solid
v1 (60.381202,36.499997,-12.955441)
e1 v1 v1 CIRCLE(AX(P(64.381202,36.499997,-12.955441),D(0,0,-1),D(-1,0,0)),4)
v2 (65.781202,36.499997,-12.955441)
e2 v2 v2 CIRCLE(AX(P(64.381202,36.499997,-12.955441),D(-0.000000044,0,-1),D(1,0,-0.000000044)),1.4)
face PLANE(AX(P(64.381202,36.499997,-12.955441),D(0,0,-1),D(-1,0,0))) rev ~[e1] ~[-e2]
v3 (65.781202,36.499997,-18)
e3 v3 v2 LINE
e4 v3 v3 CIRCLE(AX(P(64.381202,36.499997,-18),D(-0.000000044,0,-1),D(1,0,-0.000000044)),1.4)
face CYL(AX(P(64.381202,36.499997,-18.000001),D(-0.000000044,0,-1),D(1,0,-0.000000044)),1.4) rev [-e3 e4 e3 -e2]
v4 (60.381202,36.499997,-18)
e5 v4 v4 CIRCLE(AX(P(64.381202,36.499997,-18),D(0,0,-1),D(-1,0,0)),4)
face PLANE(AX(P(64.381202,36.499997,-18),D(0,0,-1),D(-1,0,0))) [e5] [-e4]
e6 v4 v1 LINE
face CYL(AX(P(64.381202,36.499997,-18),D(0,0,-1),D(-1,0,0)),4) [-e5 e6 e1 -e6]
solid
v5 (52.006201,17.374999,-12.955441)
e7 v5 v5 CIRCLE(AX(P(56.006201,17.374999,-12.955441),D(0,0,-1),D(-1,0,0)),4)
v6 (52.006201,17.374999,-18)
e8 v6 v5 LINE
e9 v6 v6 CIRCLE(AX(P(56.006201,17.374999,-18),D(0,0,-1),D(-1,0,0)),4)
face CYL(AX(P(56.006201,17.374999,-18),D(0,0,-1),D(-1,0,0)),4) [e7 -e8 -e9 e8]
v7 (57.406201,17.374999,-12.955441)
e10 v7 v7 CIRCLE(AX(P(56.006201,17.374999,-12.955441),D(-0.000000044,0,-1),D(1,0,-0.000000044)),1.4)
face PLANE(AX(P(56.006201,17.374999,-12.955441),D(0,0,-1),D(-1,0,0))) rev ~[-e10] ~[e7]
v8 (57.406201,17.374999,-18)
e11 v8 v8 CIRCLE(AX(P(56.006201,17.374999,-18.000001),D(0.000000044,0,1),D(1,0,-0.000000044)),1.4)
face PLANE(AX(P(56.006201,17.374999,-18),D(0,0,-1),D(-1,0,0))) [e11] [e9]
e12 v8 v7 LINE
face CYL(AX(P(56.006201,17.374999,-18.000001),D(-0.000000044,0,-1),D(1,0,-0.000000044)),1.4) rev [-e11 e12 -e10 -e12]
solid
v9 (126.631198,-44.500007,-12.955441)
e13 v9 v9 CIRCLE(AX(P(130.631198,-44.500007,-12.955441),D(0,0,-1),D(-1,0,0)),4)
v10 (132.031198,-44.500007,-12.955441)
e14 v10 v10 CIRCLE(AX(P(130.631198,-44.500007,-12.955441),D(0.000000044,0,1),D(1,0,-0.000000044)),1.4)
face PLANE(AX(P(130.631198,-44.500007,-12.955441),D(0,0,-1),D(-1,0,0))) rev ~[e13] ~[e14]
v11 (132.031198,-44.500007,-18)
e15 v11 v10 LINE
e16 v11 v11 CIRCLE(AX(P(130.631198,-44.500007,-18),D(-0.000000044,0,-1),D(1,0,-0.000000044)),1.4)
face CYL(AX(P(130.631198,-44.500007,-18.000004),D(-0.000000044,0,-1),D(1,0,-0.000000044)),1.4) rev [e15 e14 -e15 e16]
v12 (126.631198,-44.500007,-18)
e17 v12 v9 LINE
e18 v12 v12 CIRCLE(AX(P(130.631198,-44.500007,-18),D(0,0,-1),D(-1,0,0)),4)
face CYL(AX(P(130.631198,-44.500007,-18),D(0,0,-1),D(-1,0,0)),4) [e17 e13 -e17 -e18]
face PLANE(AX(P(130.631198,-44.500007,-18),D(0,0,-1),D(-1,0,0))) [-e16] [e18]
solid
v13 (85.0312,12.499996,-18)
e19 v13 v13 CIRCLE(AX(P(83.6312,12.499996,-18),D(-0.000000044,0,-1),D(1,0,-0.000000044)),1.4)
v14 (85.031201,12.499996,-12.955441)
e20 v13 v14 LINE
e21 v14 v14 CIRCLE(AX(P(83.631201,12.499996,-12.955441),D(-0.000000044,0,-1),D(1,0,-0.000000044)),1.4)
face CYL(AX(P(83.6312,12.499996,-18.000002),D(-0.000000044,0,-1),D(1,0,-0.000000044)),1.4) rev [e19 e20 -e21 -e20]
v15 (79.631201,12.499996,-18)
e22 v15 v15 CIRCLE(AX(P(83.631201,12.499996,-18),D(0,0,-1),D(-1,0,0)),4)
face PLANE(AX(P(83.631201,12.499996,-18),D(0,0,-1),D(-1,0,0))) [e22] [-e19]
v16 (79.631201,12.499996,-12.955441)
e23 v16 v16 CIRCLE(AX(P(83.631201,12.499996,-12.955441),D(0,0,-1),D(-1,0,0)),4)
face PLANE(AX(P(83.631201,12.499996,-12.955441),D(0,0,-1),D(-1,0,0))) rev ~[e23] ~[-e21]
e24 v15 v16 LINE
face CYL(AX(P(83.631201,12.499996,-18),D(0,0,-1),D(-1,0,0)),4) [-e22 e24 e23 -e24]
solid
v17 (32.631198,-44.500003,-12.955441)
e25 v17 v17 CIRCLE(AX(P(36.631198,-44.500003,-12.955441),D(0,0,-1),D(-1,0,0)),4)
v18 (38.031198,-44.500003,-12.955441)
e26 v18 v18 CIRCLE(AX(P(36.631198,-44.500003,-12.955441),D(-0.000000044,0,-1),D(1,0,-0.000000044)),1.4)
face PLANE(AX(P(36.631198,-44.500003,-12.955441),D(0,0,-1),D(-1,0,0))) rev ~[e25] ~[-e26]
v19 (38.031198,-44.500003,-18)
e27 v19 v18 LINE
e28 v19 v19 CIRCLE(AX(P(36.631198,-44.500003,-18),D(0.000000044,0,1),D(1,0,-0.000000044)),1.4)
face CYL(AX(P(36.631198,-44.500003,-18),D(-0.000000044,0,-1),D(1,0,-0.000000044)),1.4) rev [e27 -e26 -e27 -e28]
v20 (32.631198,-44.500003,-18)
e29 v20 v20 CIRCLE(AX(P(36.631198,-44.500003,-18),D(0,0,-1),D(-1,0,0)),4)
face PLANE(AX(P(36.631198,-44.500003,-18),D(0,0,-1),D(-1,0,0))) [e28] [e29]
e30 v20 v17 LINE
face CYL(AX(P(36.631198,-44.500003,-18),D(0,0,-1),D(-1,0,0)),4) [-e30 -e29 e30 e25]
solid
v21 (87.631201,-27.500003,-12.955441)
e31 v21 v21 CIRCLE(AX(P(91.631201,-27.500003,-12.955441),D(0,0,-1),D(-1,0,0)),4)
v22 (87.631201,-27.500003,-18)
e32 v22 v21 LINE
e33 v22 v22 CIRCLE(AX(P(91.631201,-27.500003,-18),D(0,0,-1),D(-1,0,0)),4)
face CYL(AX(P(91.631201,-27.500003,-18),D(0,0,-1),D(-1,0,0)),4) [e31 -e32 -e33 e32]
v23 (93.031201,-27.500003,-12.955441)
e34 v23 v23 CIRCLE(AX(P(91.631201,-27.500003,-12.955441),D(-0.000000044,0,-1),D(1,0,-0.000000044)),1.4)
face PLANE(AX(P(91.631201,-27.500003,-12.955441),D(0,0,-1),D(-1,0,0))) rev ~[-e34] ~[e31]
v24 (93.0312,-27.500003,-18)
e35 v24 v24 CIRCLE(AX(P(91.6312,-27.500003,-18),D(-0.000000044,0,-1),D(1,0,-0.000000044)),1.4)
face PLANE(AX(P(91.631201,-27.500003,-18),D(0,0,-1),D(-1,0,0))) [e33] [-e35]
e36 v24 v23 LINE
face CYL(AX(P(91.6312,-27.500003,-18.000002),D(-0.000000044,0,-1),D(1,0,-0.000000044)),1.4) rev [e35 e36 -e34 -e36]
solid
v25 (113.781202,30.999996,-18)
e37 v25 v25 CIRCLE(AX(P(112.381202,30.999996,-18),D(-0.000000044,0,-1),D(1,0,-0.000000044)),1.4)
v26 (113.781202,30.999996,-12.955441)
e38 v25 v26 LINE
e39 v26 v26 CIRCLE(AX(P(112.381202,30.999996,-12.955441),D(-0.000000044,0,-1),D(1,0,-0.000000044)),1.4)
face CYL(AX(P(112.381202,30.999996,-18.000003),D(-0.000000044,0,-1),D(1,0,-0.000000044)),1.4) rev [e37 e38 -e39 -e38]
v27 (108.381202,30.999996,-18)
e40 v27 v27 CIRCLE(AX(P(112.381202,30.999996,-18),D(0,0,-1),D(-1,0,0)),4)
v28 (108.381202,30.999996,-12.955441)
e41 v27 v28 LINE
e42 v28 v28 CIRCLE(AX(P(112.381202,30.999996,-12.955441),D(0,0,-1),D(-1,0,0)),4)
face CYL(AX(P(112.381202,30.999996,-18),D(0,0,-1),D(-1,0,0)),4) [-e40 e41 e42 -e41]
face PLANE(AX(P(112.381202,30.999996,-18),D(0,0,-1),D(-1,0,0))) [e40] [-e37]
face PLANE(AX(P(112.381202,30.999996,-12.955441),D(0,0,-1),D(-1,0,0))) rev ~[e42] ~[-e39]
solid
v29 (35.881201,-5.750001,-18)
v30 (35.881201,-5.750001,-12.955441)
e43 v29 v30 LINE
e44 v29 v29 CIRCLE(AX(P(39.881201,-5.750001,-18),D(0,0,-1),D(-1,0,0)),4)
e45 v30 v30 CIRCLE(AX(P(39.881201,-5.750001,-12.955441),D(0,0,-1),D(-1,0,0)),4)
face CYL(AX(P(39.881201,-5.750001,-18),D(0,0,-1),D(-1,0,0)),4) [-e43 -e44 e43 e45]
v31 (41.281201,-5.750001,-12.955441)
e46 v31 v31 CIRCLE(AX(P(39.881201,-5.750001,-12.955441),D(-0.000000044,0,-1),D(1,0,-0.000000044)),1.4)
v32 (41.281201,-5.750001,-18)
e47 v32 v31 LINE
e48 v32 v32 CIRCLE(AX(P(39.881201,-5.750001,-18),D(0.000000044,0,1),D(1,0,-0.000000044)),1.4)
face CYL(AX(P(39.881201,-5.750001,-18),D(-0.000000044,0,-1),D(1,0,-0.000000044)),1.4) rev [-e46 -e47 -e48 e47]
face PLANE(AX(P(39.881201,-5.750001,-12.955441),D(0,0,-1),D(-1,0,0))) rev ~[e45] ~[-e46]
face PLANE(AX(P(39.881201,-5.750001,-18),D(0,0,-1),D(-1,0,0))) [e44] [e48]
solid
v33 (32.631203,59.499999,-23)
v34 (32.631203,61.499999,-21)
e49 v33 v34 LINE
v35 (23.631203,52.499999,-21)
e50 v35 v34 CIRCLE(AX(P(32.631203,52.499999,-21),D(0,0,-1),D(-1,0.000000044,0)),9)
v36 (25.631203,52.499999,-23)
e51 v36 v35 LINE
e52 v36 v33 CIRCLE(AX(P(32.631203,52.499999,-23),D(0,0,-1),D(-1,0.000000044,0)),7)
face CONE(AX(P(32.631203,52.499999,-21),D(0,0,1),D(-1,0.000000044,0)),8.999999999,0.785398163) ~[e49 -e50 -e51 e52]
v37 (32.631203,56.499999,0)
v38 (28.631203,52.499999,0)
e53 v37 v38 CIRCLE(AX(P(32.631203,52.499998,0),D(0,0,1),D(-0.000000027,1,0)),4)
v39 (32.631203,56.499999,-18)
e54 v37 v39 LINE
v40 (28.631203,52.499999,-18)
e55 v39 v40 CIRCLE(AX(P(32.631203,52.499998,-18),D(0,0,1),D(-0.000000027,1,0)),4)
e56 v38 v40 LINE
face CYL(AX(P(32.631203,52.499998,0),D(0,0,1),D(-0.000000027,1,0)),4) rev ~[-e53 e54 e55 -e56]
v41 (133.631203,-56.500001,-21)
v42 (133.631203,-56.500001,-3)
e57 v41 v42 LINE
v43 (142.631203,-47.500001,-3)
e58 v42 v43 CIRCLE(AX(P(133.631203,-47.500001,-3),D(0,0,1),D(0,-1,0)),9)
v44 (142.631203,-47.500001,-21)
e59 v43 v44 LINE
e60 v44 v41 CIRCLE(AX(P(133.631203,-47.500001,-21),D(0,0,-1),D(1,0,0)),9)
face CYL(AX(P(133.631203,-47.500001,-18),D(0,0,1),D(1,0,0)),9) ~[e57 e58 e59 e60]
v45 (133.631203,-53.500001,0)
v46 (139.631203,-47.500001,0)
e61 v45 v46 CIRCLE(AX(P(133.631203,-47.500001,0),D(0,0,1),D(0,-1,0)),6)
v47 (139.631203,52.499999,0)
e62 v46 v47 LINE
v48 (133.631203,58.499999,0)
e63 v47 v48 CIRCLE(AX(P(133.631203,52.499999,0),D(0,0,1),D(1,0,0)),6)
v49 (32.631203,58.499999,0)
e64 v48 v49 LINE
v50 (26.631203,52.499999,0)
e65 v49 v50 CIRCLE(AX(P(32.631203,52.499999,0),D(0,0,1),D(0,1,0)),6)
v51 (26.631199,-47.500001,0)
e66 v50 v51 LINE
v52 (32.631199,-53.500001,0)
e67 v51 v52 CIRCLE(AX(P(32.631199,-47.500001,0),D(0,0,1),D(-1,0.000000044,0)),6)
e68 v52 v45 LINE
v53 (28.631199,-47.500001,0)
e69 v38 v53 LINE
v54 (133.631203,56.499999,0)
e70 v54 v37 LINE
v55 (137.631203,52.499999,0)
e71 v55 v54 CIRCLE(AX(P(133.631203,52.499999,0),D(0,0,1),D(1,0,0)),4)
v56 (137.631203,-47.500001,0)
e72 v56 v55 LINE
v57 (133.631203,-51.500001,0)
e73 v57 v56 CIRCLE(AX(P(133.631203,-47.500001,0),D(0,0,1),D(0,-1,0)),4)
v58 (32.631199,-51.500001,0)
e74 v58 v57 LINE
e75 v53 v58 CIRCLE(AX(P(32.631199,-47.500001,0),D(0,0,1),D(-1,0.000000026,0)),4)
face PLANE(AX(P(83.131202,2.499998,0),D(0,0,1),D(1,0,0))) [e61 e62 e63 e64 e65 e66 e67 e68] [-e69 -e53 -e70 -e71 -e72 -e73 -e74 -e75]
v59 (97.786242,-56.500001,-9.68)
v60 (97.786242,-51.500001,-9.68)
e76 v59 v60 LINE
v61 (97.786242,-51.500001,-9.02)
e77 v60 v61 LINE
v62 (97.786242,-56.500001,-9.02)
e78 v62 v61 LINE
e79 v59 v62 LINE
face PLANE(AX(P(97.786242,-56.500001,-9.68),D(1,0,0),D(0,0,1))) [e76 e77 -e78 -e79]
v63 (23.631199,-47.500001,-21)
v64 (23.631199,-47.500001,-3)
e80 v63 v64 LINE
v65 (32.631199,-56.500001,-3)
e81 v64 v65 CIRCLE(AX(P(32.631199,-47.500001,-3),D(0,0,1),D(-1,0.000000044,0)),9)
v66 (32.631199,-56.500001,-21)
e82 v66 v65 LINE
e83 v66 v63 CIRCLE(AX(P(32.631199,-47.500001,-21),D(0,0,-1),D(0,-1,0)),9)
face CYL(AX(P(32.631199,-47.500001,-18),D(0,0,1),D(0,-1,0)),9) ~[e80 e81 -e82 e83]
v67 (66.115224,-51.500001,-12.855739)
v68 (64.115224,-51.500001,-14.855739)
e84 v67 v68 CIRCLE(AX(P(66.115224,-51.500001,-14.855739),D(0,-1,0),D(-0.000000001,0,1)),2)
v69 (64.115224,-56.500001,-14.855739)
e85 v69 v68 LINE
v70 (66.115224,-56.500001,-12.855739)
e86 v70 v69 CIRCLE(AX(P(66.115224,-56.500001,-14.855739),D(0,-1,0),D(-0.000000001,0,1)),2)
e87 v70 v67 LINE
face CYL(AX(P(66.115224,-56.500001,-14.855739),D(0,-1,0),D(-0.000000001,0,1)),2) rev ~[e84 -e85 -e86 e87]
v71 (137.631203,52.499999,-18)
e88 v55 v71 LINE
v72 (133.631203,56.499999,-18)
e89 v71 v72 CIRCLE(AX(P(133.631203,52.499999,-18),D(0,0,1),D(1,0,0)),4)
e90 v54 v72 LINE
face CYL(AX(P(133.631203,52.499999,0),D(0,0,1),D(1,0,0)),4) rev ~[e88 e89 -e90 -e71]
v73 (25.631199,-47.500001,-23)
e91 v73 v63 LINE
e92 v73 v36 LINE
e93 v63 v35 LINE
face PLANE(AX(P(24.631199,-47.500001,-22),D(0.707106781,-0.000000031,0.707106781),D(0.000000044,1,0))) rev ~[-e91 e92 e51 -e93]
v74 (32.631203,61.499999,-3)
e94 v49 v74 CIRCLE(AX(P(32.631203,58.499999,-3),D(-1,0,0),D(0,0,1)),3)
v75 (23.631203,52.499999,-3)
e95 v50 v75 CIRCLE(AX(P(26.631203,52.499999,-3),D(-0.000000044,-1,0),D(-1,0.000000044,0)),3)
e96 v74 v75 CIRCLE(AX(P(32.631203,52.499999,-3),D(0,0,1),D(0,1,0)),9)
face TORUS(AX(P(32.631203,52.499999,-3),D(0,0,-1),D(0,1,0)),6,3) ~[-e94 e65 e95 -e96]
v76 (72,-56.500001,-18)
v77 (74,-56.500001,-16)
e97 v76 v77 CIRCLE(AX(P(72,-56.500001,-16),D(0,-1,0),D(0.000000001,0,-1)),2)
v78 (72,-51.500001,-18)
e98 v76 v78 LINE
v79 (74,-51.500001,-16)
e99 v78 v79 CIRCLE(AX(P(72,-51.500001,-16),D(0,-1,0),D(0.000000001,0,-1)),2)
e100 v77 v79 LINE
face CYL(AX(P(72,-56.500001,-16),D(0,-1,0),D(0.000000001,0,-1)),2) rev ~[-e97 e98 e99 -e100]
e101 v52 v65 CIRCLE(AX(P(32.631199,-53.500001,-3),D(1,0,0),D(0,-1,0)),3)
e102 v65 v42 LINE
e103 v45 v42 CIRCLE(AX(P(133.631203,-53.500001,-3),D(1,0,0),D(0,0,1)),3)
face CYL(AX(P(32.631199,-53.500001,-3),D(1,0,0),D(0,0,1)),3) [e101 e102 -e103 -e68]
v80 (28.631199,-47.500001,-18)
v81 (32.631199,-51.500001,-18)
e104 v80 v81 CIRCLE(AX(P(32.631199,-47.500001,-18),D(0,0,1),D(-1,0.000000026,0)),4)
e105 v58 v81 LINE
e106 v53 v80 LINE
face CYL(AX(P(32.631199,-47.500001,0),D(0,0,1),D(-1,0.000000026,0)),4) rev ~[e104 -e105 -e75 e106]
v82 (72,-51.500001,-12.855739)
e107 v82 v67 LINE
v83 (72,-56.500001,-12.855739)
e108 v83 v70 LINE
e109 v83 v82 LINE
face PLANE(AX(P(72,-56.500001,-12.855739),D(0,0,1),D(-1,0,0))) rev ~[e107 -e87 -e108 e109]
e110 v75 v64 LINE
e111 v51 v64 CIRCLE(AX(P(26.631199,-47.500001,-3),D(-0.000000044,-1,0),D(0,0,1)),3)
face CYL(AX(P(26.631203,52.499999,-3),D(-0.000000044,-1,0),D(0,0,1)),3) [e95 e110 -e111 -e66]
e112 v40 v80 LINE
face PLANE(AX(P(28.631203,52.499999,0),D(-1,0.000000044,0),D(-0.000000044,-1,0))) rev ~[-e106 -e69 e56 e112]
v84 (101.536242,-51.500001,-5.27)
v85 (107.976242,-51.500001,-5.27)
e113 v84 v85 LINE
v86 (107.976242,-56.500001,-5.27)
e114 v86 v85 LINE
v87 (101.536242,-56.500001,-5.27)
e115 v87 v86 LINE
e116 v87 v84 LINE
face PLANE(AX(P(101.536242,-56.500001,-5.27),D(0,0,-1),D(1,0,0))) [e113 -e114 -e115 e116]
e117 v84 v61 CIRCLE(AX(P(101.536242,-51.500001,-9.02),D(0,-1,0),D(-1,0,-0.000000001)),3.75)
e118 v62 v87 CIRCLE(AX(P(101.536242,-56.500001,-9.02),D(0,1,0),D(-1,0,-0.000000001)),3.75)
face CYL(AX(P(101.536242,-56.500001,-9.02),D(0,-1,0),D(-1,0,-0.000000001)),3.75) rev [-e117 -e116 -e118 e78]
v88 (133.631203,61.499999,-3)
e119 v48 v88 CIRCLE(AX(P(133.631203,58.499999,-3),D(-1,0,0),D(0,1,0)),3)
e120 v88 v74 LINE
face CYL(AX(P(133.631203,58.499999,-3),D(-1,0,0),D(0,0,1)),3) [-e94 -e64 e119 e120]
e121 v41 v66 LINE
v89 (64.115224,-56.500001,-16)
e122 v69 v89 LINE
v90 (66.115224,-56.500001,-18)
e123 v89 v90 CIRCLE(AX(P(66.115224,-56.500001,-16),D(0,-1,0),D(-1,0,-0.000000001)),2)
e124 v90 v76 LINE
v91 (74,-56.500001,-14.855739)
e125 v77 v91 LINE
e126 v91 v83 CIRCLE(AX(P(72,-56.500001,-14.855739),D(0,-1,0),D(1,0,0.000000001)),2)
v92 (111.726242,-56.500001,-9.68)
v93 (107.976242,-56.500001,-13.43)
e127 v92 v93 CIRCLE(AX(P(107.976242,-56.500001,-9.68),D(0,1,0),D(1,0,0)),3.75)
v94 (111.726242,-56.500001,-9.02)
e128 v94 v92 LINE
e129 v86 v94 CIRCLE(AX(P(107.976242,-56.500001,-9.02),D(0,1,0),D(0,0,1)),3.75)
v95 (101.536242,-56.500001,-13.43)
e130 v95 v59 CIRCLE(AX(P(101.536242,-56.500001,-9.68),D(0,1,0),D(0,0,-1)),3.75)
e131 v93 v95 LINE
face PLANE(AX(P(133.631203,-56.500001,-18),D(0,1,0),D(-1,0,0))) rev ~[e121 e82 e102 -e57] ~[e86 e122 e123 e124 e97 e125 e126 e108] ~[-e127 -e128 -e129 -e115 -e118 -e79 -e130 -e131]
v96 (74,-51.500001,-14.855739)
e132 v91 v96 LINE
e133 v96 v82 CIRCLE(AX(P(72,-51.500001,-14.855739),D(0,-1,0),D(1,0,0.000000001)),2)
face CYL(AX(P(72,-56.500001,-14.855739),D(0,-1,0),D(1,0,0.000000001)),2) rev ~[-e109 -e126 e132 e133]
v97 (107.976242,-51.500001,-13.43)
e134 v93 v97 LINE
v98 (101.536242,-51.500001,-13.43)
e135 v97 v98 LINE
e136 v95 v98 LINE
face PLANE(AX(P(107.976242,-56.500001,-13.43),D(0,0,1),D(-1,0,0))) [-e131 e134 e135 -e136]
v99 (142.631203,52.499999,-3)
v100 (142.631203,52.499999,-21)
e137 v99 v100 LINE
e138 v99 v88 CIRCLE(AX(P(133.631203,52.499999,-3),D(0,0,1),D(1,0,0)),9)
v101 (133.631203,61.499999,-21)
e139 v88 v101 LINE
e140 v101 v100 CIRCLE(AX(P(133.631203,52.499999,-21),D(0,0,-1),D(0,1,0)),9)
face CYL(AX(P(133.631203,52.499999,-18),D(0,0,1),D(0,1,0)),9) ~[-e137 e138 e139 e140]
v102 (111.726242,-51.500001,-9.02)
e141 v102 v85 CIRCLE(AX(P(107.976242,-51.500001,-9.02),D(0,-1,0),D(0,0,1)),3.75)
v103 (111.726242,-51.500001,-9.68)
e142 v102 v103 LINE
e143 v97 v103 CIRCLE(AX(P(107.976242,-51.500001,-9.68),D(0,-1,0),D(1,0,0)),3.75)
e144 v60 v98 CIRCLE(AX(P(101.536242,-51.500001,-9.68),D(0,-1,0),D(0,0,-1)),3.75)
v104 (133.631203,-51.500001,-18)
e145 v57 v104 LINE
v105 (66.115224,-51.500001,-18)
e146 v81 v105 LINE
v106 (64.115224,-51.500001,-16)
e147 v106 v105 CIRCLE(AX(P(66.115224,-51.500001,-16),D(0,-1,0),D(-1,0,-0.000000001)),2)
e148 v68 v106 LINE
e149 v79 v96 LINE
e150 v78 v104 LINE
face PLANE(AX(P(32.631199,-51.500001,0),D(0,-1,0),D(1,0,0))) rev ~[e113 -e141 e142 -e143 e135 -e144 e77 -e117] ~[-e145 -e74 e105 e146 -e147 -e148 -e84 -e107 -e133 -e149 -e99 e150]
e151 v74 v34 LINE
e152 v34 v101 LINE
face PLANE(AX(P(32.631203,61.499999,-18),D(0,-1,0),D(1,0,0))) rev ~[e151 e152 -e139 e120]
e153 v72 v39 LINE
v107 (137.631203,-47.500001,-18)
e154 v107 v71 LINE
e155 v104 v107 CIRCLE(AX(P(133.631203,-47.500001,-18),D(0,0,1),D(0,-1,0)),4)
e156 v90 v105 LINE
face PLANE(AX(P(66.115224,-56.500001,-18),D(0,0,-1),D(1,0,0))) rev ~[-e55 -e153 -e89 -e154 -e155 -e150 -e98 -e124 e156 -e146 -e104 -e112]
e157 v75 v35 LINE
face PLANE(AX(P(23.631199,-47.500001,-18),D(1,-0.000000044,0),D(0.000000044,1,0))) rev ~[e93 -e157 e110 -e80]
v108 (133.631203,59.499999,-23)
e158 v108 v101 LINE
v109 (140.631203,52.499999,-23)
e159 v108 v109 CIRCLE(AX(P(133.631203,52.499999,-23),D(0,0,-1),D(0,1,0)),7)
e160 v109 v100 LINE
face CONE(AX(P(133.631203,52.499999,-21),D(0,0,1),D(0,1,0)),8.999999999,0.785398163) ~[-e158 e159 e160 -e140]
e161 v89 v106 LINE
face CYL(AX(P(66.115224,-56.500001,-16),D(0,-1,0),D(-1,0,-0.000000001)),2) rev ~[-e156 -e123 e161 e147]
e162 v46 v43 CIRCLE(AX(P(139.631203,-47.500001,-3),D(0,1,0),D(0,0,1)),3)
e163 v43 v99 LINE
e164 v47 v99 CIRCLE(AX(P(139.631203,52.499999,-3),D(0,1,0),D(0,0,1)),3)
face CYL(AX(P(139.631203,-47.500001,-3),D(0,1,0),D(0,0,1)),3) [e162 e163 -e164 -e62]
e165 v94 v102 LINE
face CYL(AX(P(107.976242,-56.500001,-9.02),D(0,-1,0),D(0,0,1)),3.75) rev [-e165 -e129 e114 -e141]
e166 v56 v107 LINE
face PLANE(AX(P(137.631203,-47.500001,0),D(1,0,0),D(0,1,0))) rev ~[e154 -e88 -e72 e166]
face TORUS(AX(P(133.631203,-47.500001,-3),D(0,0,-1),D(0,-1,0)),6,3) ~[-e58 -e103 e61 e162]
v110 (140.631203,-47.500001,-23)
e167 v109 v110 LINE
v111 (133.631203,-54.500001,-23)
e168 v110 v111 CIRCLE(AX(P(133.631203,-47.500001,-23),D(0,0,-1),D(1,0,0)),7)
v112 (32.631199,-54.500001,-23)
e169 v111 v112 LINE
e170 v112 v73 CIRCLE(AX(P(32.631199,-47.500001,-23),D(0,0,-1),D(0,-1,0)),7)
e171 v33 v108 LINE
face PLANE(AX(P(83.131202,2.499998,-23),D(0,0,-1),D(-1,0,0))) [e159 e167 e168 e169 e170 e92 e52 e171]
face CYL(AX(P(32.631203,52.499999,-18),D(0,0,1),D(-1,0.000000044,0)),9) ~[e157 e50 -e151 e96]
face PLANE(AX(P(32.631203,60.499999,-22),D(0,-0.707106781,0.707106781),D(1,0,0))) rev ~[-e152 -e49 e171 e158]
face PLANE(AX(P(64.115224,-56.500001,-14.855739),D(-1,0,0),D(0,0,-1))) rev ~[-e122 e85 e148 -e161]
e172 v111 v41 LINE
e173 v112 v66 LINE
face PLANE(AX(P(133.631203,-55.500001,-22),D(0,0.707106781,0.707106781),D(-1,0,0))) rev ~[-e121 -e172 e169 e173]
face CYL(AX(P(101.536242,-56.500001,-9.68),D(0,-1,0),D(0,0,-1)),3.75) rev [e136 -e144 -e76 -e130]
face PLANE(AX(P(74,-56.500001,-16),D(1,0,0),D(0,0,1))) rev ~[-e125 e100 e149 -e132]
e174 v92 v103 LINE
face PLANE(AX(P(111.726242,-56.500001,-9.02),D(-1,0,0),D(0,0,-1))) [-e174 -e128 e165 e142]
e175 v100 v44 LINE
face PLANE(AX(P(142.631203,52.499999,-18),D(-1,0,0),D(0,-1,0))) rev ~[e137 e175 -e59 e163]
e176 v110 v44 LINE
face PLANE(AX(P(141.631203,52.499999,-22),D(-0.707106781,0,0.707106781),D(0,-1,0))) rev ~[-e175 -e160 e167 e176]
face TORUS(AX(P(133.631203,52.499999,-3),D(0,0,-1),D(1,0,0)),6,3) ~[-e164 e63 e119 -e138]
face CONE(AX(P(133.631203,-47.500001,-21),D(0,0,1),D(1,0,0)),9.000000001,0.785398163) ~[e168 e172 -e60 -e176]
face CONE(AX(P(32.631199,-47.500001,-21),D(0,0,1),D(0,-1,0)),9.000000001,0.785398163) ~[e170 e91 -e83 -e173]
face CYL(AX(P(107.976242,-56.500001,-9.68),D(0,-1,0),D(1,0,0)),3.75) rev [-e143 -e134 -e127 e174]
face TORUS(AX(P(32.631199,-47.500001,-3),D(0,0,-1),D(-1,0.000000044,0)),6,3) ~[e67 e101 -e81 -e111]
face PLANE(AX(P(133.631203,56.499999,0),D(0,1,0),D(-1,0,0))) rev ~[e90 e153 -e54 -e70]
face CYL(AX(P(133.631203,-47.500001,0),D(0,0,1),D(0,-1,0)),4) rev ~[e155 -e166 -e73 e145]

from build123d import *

# Parameters (mm, degrees)
BOSS_EXTRUDE1_DEPTH   = 18
SKETCH2_R             = 4
BOSS_EXTRUDE2_DEPTH   = 5.044559182
BOSS_EXTRUDE2_2_DEPTH = 5.044559182
BOSS_EXTRUDE2_3_DEPTH = 5.044559182
BOSS_EXTRUDE2_4_DEPTH = 5.044559182
BOSS_EXTRUDE2_5_DEPTH = 5.044559182
BOSS_EXTRUDE2_6_DEPTH = 5.044559182
BOSS_EXTRUDE2_7_DEPTH = 5.044559182
BOSS_EXTRUDE2_8_DEPTH = 5.044559182
BOSS_EXTRUDE4_DEPTH   = 5
CHAMFER1_SIZE         = 2
CUT_EXTRUDE4_DEPTH    = 10
CUT_EXTRUDE5_START    = -5.044562
SKETCH9_R             = 1.4
CUT_EXTRUDE5_DEPTH    = 5.044563
FILLET1_R             = 3


with BuildPart() as part:
    # Sketch1 → Boss-Extrude1 (new body)
    with BuildSketch(Plane.XY):
        with BuildLine():
            Line((23.631203293, 52.499999142), (23.631198922, -47.500000858))
            ThreePointArc((23.631198922, -47.500000858), (26.267237752, -53.863962143), (32.631198922, -56.500001252))
            Line((32.631198922, -56.500001252), (133.631203293, -56.500001252))
            ThreePointArc((133.631203293, -56.500001252), (139.995164324, -53.863962282), (142.631203293, -47.500001252))
            Line((142.631203293, -47.500001252), (142.631203293, 52.499998748))
            ThreePointArc((142.631203293, 52.499998748), (139.995164324, 58.863959779), (133.631203293, 61.499998748))
            Line((133.631203293, 61.499998748), (32.631203293, 61.499998748))
            ThreePointArc((32.631203293, 61.499998748), (26.267242401, 58.863959918), (23.631203293, 52.499999142))
        make_face()
        with BuildLine():
            Line((28.631203141, 52.499998748), (28.63119877, -47.500001252))
            ThreePointArc((28.63119877, -47.500001252), (29.80277169, -50.328428483), (32.631198922, -51.500001252))
            Line((32.631198922, -51.500001252), (133.631203293, -51.500001252))
            ThreePointArc((133.631203293, -51.500001252), (136.459630418, -50.328428376), (137.631203293, -47.500001252))
            Line((137.631203293, -47.500001252), (137.631203293, 52.499998748))
            ThreePointArc((137.631203293, 52.499998748), (136.459630418, 55.328425873), (133.631203293, 56.499998748))
            Line((133.631203293, 56.499998748), (32.631203293, 56.499998748))
            ThreePointArc((32.631203293, 56.499998748), (29.802776168, 55.328425873), (28.631203141, 52.499998748))
        make_face(mode=Mode.SUBTRACT)
    extrude(amount=-BOSS_EXTRUDE1_DEPTH)

    # Sketch6 → Boss-Extrude4 (add)
    with BuildSketch(Plane(origin=(0, 0, -18), x_dir=(-1, 0, 0), z_dir=(0, 0, -1))):
        with BuildLine():
            Line((-23.631198922, -47.500000858), (-23.631203293, 52.499999142))
            ThreePointArc((-23.631203293, 52.499999142), (-26.267242401, 58.863959918), (-32.631203293, 61.499998748))
            Line((-32.631203293, 61.499998748), (-133.631203293, 61.499998748))
            ThreePointArc((-133.631203293, 61.499998748), (-139.995164324, 58.863959779), (-142.631203293, 52.499998748))
            Line((-142.631203293, 52.499998748), (-142.631203293, -47.500001252))
            ThreePointArc((-142.631203293, -47.500001252), (-139.995164324, -53.863962282), (-133.631203293, -56.500001252))
            Line((-133.631203293, -56.500001252), (-32.631198922, -56.500001252))
            ThreePointArc((-32.631198922, -56.500001252), (-26.267237752, -53.863962143), (-23.631198922, -47.500000858))
        make_face()
    extrude(amount=BOSS_EXTRUDE4_DEPTH)

    # Chamfer1
    chamfer1_edges = [part.edges().sort_by_distance(p)[0] for p in [
        (26.267237752, -53.863962143, -23),
        (23.631201107, 2.499999142, -23),
        (26.267242401, 58.863959918, -23),
        (83.131203293, 61.499998748, -23),
        (139.995164324, 58.863959779, -23),
        (142.631203293, 2.499998748, -23),
        (139.995164324, -53.863962282, -23),
        (83.131201107, -56.500001252, -23),
    ]]
    chamfer(chamfer1_edges, length=CHAMFER1_SIZE)

    # Sketch8 → Cut-Extrude4 (cut)
    # profile 1 of 3: a face of its own
    with BuildSketch(Plane(origin=(0, -56.500001252, 0), x_dir=(1, 0, 0), z_dir=(0, 1, 0))):
        with BuildLine():
            ThreePointArc((97.786242074, 9.020000419), (98.884591644, 6.368349989), (101.536242074, 5.270000419))
            Line((101.536242074, 5.270000419), (107.976242074, 5.270000419))
            ThreePointArc((107.976242074, 5.270000419), (110.627892503, 6.368349989), (111.726242074, 9.020000419))
            Line((111.726242074, 9.020000419), (111.726242074, 9.680000419))
            ThreePointArc((111.726242074, 9.680000419), (110.627892503, 12.331650848), (107.976242074, 13.430000419))
            Line((107.976242074, 13.430000419), (104.477997177, 13.430000419))
            Line((104.477997177, 13.430000419), (101.536242074, 13.430000419))
            ThreePointArc((101.536242074, 13.430000419), (98.884591644, 12.331650848), (97.786242074, 9.680000419))
            Line((97.786242074, 9.680000419), (97.786242074, 9.020000419))
        make_face()
        with BuildLine():
            Line((101.536242074, 7.770000419), (107.976242074, 7.770000419))
            ThreePointArc((107.976242074, 7.770000419), (108.86012555, 8.136116942), (109.226242074, 9.020000419))
            Line((109.226242074, 9.020000419), (109.226242074, 9.680000419))
            ThreePointArc((109.226242074, 9.680000419), (108.86012555, 10.563883895), (107.976242074, 10.930000419))
            Line((107.976242074, 10.930000419), (104.487997177, 10.930000419))
            Line((104.487997177, 10.930000419), (104.487997177, 10.730000419))
            Line((104.487997177, 10.730000419), (107.976242074, 10.730000419))
            ThreePointArc((107.976242074, 10.730000419), (108.718704194, 10.422462539), (109.026242074, 9.680000419))
            Line((109.026242074, 9.680000419), (109.026242074, 9.020000419))
            ThreePointArc((109.026242074, 9.020000419), (108.718704194, 8.277538299), (107.976242074, 7.970000419))
            Line((107.976242074, 7.970000419), (101.536242074, 7.970000419))
            ThreePointArc((101.536242074, 7.970000419), (100.793779953, 8.277538299), (100.486242074, 9.020000419))
            Line((100.486242074, 9.020000419), (100.486242074, 9.680000419))
            ThreePointArc((100.486242074, 9.680000419), (100.793779953, 10.422462539), (101.536242074, 10.730000419))
            Line((101.536242074, 10.730000419), (104.467997177, 10.730000419))
            Line((104.467997177, 10.730000419), (104.467997177, 10.930000419))
            Line((104.467997177, 10.930000419), (101.536242074, 10.930000419))
            ThreePointArc((101.536242074, 10.930000419), (100.652358597, 10.563883895), (100.286242074, 9.680000419))
            Line((100.286242074, 9.680000419), (100.286242074, 9.020000419))
            ThreePointArc((100.286242074, 9.020000419), (100.652358597, 8.136116942), (101.536242074, 7.770000419))
        make_face(mode=Mode.SUBTRACT)
    # profile 2 of 3: a face of its own
    with BuildSketch(Plane(origin=(0, -56.500001252, 0), x_dir=(1, 0, 0), z_dir=(0, 1, 0))):
        with BuildLine():
            ThreePointArc((107.976242074, 7.770000419), (108.86012555, 8.136116942), (109.226242074, 9.020000419))
            Line((109.226242074, 9.020000419), (109.226242074, 9.680000419))
            ThreePointArc((109.226242074, 9.680000419), (108.86012555, 10.563883895), (107.976242074, 10.930000419))
            Line((107.976242074, 10.930000419), (104.487997177, 10.930000419))
            Line((104.487997177, 10.930000419), (104.487997177, 10.730000419))
            Line((104.487997177, 10.730000419), (107.976242074, 10.730000419))
            ThreePointArc((107.976242074, 10.730000419), (108.718704194, 10.422462539), (109.026242074, 9.680000419))
            Line((109.026242074, 9.680000419), (109.026242074, 9.020000419))
            ThreePointArc((109.026242074, 9.020000419), (108.718704194, 8.277538299), (107.976242074, 7.970000419))
            Line((107.976242074, 7.970000419), (101.536242074, 7.970000419))
            ThreePointArc((101.536242074, 7.970000419), (100.793779953, 8.277538299), (100.486242074, 9.020000419))
            Line((100.486242074, 9.020000419), (100.486242074, 9.680000419))
            ThreePointArc((100.486242074, 9.680000419), (100.793779953, 10.422462539), (101.536242074, 10.730000419))
            Line((101.536242074, 10.730000419), (104.467997177, 10.730000419))
            Line((104.467997177, 10.730000419), (104.467997177, 10.930000419))
            Line((104.467997177, 10.930000419), (101.536242074, 10.930000419))
            ThreePointArc((101.536242074, 10.930000419), (100.652358597, 10.563883895), (100.286242074, 9.680000419))
            Line((100.286242074, 9.680000419), (100.286242074, 9.020000419))
            ThreePointArc((100.286242074, 9.020000419), (100.652358597, 8.136116942), (101.536242074, 7.770000419))
            Line((101.536242074, 7.770000419), (107.976242074, 7.770000419))
        make_face()
    # profile 3 of 3: a face of its own
    with BuildSketch(Plane(origin=(0, -56.500001252, 0), x_dir=(1, 0, 0), z_dir=(0, 1, 0))):
        with BuildLine():
            Line((72, 12.855738996), (66.115223507, 12.855738996))
            ThreePointArc((66.115223507, 12.855738996), (64.701009945, 13.441525434), (64.115223507, 14.855738996))
            Line((64.115223507, 14.855738996), (64.115223507, 16))
            ThreePointArc((64.115223507, 16), (64.701009945, 17.414213562), (66.115223507, 18))
            Line((66.115223507, 18), (72, 18))
            ThreePointArc((72, 18), (73.414213562, 17.414213562), (74, 16))
            Line((74, 16), (74, 14.855738996))
            ThreePointArc((74, 14.855738996), (73.414213562, 13.441525434), (72, 12.855738996))
        make_face()
    extrude(amount=CUT_EXTRUDE4_DEPTH, mode=Mode.SUBTRACT)

    # Fillet1
    fillet1_edges = [part.edges().sort_by_distance(p)[0] for p in [
        (142.631203293, 2.499998748, 0),
        (139.995164324, -53.863962282, 0),
        (83.131201107, -56.500001252, 0),
        (26.267237752, -53.863962143, 0),
        (23.631201107, 2.499999142, 0),
        (26.267242401, 58.863959918, 0),
        (83.131203293, 61.499998748, 0),
        (139.995164324, 58.863959779, 0),
    ]]
    fillet(fillet1_edges, radius=FILLET1_R)


with BuildPart() as body_2:
    # Sketch2 → Boss-Extrude2 (new body)
    with BuildSketch(Plane(origin=(0, 0, -18), x_dir=(-1, 0, 0), z_dir=(0, 0, -1))):
        with Locations((-112.381202333, 30.999995568)):
            Circle(SKETCH2_R)
    extrude(amount=-BOSS_EXTRUDE2_DEPTH)


with BuildPart() as body_3:
    # Sketch2 → Boss-Extrude2 2 (new body)
    with BuildSketch(Plane(origin=(0, 0, -18), x_dir=(-1, 0, 0), z_dir=(0, 0, -1))):
        with Locations((-64.381202053, 36.499996826)):
            Circle(SKETCH2_R)
    extrude(amount=-BOSS_EXTRUDE2_2_DEPTH)


with BuildPart() as body_4:
    # Sketch2 → Boss-Extrude2 3 (new body)
    with BuildSketch(Plane(origin=(0, 0, -18), x_dir=(-1, 0, 0), z_dir=(0, 0, -1))):
        with Locations((-56.006201457, 17.374998612)):
            Circle(SKETCH2_R)
    extrude(amount=-BOSS_EXTRUDE2_3_DEPTH)


with BuildPart() as body_5:
    # Sketch2 → Boss-Extrude2 4 (new body)
    with BuildSketch(Plane(origin=(0, 0, -18), x_dir=(-1, 0, 0), z_dir=(0, 0, -1))):
        with Locations((-83.631200604, 12.499995724)):
            Circle(SKETCH2_R)
    extrude(amount=-BOSS_EXTRUDE2_4_DEPTH)


with BuildPart() as body_6:
    # Sketch2 → Boss-Extrude2 5 (new body)
    with BuildSketch(Plane(origin=(0, 0, -18), x_dir=(-1, 0, 0), z_dir=(0, 0, -1))):
        with Locations((-39.881200947, -5.750001423)):
            Circle(SKETCH2_R)
    extrude(amount=-BOSS_EXTRUDE2_5_DEPTH)


with BuildPart() as body_7:
    # Sketch2 → Boss-Extrude2 6 (new body)
    with BuildSketch(Plane(origin=(0, 0, -18), x_dir=(-1, 0, 0), z_dir=(0, 0, -1))):
        with Locations((-36.631198133, -44.500002521)):
            Circle(SKETCH2_R)
    extrude(amount=-BOSS_EXTRUDE2_6_DEPTH)


with BuildPart() as body_8:
    # Sketch2 → Boss-Extrude2 7 (new body)
    with BuildSketch(Plane(origin=(0, 0, -18), x_dir=(-1, 0, 0), z_dir=(0, 0, -1))):
        with Locations((-130.631198093, -44.50000663)):
            Circle(SKETCH2_R)
    extrude(amount=-BOSS_EXTRUDE2_7_DEPTH)


with BuildPart() as body_9:
    # Sketch2 → Boss-Extrude2 8 (new body)
    with BuildSketch(Plane(origin=(0, 0, -18), x_dir=(-1, 0, 0), z_dir=(0, 0, -1))):
        with Locations((-91.631200636, -27.500003365)):
            Circle(SKETCH2_R)
    extrude(amount=-BOSS_EXTRUDE2_8_DEPTH)


with BuildPart() as cut_extrude5_tool:
    # Sketch9 → Cut-Extrude5 (new body)
    with BuildSketch(Plane(origin=(-5.66e-07, 0, -12.95543608), x_dir=(0.999999999999999, 0, -4.371138828673993e-08), z_dir=(4.371138828673993e-08, -1.389432378091647e-15, 0.9999999999999991)).offset(CUT_EXTRUDE5_START)):
        with Locations((130.631198659, -44.50000663)):
            Circle(SKETCH9_R)
        with Locations((36.631198699, -44.500002521)):
            Circle(SKETCH9_R)
        with Locations((91.631201202, -27.500003365)):
            Circle(SKETCH9_R)
        with Locations((83.631201171, 12.499995724)):
            Circle(SKETCH9_R)
        with Locations((56.006202024, 17.374998612)):
            Circle(SKETCH9_R)
        with Locations((39.881201513, -5.750001423)):
            Circle(SKETCH9_R)
        with Locations((112.381202899, 30.999995568)):
            Circle(SKETCH9_R)
        with Locations((64.38120262, 36.499996826)):
            Circle(SKETCH9_R)
    extrude(amount=CUT_EXTRUDE5_DEPTH)


with BuildPart() as body_2_1:
    add(body_2.part)

    # Cut-Extrude5: cut by cut_extrude5_tool
    add(cut_extrude5_tool.part, mode=Mode.SUBTRACT)


with BuildPart() as body_3_1:
    add(body_3.part)

    # Cut-Extrude5: cut by cut_extrude5_tool
    add(cut_extrude5_tool.part, mode=Mode.SUBTRACT)


with BuildPart() as body_4_1:
    add(body_4.part)

    # Cut-Extrude5: cut by cut_extrude5_tool
    add(cut_extrude5_tool.part, mode=Mode.SUBTRACT)


with BuildPart() as body_5_1:
    add(body_5.part)

    # Cut-Extrude5: cut by cut_extrude5_tool
    add(cut_extrude5_tool.part, mode=Mode.SUBTRACT)


with BuildPart() as body_6_1:
    add(body_6.part)

    # Cut-Extrude5: cut by cut_extrude5_tool
    add(cut_extrude5_tool.part, mode=Mode.SUBTRACT)


with BuildPart() as body_7_1:
    add(body_7.part)

    # Cut-Extrude5: cut by cut_extrude5_tool
    add(cut_extrude5_tool.part, mode=Mode.SUBTRACT)


with BuildPart() as body_8_1:
    add(body_8.part)

    # Cut-Extrude5: cut by cut_extrude5_tool
    add(cut_extrude5_tool.part, mode=Mode.SUBTRACT)


with BuildPart() as body_9_1:
    add(body_9.part)

    # Cut-Extrude5: cut by cut_extrude5_tool
    add(cut_extrude5_tool.part, mode=Mode.SUBTRACT)


solid = Compound([part.part, body_2_1.part, body_3_1.part, body_4_1.part, body_5_1.part, body_6_1.part, body_7_1.part, body_8_1.part, body_9_1.part])
